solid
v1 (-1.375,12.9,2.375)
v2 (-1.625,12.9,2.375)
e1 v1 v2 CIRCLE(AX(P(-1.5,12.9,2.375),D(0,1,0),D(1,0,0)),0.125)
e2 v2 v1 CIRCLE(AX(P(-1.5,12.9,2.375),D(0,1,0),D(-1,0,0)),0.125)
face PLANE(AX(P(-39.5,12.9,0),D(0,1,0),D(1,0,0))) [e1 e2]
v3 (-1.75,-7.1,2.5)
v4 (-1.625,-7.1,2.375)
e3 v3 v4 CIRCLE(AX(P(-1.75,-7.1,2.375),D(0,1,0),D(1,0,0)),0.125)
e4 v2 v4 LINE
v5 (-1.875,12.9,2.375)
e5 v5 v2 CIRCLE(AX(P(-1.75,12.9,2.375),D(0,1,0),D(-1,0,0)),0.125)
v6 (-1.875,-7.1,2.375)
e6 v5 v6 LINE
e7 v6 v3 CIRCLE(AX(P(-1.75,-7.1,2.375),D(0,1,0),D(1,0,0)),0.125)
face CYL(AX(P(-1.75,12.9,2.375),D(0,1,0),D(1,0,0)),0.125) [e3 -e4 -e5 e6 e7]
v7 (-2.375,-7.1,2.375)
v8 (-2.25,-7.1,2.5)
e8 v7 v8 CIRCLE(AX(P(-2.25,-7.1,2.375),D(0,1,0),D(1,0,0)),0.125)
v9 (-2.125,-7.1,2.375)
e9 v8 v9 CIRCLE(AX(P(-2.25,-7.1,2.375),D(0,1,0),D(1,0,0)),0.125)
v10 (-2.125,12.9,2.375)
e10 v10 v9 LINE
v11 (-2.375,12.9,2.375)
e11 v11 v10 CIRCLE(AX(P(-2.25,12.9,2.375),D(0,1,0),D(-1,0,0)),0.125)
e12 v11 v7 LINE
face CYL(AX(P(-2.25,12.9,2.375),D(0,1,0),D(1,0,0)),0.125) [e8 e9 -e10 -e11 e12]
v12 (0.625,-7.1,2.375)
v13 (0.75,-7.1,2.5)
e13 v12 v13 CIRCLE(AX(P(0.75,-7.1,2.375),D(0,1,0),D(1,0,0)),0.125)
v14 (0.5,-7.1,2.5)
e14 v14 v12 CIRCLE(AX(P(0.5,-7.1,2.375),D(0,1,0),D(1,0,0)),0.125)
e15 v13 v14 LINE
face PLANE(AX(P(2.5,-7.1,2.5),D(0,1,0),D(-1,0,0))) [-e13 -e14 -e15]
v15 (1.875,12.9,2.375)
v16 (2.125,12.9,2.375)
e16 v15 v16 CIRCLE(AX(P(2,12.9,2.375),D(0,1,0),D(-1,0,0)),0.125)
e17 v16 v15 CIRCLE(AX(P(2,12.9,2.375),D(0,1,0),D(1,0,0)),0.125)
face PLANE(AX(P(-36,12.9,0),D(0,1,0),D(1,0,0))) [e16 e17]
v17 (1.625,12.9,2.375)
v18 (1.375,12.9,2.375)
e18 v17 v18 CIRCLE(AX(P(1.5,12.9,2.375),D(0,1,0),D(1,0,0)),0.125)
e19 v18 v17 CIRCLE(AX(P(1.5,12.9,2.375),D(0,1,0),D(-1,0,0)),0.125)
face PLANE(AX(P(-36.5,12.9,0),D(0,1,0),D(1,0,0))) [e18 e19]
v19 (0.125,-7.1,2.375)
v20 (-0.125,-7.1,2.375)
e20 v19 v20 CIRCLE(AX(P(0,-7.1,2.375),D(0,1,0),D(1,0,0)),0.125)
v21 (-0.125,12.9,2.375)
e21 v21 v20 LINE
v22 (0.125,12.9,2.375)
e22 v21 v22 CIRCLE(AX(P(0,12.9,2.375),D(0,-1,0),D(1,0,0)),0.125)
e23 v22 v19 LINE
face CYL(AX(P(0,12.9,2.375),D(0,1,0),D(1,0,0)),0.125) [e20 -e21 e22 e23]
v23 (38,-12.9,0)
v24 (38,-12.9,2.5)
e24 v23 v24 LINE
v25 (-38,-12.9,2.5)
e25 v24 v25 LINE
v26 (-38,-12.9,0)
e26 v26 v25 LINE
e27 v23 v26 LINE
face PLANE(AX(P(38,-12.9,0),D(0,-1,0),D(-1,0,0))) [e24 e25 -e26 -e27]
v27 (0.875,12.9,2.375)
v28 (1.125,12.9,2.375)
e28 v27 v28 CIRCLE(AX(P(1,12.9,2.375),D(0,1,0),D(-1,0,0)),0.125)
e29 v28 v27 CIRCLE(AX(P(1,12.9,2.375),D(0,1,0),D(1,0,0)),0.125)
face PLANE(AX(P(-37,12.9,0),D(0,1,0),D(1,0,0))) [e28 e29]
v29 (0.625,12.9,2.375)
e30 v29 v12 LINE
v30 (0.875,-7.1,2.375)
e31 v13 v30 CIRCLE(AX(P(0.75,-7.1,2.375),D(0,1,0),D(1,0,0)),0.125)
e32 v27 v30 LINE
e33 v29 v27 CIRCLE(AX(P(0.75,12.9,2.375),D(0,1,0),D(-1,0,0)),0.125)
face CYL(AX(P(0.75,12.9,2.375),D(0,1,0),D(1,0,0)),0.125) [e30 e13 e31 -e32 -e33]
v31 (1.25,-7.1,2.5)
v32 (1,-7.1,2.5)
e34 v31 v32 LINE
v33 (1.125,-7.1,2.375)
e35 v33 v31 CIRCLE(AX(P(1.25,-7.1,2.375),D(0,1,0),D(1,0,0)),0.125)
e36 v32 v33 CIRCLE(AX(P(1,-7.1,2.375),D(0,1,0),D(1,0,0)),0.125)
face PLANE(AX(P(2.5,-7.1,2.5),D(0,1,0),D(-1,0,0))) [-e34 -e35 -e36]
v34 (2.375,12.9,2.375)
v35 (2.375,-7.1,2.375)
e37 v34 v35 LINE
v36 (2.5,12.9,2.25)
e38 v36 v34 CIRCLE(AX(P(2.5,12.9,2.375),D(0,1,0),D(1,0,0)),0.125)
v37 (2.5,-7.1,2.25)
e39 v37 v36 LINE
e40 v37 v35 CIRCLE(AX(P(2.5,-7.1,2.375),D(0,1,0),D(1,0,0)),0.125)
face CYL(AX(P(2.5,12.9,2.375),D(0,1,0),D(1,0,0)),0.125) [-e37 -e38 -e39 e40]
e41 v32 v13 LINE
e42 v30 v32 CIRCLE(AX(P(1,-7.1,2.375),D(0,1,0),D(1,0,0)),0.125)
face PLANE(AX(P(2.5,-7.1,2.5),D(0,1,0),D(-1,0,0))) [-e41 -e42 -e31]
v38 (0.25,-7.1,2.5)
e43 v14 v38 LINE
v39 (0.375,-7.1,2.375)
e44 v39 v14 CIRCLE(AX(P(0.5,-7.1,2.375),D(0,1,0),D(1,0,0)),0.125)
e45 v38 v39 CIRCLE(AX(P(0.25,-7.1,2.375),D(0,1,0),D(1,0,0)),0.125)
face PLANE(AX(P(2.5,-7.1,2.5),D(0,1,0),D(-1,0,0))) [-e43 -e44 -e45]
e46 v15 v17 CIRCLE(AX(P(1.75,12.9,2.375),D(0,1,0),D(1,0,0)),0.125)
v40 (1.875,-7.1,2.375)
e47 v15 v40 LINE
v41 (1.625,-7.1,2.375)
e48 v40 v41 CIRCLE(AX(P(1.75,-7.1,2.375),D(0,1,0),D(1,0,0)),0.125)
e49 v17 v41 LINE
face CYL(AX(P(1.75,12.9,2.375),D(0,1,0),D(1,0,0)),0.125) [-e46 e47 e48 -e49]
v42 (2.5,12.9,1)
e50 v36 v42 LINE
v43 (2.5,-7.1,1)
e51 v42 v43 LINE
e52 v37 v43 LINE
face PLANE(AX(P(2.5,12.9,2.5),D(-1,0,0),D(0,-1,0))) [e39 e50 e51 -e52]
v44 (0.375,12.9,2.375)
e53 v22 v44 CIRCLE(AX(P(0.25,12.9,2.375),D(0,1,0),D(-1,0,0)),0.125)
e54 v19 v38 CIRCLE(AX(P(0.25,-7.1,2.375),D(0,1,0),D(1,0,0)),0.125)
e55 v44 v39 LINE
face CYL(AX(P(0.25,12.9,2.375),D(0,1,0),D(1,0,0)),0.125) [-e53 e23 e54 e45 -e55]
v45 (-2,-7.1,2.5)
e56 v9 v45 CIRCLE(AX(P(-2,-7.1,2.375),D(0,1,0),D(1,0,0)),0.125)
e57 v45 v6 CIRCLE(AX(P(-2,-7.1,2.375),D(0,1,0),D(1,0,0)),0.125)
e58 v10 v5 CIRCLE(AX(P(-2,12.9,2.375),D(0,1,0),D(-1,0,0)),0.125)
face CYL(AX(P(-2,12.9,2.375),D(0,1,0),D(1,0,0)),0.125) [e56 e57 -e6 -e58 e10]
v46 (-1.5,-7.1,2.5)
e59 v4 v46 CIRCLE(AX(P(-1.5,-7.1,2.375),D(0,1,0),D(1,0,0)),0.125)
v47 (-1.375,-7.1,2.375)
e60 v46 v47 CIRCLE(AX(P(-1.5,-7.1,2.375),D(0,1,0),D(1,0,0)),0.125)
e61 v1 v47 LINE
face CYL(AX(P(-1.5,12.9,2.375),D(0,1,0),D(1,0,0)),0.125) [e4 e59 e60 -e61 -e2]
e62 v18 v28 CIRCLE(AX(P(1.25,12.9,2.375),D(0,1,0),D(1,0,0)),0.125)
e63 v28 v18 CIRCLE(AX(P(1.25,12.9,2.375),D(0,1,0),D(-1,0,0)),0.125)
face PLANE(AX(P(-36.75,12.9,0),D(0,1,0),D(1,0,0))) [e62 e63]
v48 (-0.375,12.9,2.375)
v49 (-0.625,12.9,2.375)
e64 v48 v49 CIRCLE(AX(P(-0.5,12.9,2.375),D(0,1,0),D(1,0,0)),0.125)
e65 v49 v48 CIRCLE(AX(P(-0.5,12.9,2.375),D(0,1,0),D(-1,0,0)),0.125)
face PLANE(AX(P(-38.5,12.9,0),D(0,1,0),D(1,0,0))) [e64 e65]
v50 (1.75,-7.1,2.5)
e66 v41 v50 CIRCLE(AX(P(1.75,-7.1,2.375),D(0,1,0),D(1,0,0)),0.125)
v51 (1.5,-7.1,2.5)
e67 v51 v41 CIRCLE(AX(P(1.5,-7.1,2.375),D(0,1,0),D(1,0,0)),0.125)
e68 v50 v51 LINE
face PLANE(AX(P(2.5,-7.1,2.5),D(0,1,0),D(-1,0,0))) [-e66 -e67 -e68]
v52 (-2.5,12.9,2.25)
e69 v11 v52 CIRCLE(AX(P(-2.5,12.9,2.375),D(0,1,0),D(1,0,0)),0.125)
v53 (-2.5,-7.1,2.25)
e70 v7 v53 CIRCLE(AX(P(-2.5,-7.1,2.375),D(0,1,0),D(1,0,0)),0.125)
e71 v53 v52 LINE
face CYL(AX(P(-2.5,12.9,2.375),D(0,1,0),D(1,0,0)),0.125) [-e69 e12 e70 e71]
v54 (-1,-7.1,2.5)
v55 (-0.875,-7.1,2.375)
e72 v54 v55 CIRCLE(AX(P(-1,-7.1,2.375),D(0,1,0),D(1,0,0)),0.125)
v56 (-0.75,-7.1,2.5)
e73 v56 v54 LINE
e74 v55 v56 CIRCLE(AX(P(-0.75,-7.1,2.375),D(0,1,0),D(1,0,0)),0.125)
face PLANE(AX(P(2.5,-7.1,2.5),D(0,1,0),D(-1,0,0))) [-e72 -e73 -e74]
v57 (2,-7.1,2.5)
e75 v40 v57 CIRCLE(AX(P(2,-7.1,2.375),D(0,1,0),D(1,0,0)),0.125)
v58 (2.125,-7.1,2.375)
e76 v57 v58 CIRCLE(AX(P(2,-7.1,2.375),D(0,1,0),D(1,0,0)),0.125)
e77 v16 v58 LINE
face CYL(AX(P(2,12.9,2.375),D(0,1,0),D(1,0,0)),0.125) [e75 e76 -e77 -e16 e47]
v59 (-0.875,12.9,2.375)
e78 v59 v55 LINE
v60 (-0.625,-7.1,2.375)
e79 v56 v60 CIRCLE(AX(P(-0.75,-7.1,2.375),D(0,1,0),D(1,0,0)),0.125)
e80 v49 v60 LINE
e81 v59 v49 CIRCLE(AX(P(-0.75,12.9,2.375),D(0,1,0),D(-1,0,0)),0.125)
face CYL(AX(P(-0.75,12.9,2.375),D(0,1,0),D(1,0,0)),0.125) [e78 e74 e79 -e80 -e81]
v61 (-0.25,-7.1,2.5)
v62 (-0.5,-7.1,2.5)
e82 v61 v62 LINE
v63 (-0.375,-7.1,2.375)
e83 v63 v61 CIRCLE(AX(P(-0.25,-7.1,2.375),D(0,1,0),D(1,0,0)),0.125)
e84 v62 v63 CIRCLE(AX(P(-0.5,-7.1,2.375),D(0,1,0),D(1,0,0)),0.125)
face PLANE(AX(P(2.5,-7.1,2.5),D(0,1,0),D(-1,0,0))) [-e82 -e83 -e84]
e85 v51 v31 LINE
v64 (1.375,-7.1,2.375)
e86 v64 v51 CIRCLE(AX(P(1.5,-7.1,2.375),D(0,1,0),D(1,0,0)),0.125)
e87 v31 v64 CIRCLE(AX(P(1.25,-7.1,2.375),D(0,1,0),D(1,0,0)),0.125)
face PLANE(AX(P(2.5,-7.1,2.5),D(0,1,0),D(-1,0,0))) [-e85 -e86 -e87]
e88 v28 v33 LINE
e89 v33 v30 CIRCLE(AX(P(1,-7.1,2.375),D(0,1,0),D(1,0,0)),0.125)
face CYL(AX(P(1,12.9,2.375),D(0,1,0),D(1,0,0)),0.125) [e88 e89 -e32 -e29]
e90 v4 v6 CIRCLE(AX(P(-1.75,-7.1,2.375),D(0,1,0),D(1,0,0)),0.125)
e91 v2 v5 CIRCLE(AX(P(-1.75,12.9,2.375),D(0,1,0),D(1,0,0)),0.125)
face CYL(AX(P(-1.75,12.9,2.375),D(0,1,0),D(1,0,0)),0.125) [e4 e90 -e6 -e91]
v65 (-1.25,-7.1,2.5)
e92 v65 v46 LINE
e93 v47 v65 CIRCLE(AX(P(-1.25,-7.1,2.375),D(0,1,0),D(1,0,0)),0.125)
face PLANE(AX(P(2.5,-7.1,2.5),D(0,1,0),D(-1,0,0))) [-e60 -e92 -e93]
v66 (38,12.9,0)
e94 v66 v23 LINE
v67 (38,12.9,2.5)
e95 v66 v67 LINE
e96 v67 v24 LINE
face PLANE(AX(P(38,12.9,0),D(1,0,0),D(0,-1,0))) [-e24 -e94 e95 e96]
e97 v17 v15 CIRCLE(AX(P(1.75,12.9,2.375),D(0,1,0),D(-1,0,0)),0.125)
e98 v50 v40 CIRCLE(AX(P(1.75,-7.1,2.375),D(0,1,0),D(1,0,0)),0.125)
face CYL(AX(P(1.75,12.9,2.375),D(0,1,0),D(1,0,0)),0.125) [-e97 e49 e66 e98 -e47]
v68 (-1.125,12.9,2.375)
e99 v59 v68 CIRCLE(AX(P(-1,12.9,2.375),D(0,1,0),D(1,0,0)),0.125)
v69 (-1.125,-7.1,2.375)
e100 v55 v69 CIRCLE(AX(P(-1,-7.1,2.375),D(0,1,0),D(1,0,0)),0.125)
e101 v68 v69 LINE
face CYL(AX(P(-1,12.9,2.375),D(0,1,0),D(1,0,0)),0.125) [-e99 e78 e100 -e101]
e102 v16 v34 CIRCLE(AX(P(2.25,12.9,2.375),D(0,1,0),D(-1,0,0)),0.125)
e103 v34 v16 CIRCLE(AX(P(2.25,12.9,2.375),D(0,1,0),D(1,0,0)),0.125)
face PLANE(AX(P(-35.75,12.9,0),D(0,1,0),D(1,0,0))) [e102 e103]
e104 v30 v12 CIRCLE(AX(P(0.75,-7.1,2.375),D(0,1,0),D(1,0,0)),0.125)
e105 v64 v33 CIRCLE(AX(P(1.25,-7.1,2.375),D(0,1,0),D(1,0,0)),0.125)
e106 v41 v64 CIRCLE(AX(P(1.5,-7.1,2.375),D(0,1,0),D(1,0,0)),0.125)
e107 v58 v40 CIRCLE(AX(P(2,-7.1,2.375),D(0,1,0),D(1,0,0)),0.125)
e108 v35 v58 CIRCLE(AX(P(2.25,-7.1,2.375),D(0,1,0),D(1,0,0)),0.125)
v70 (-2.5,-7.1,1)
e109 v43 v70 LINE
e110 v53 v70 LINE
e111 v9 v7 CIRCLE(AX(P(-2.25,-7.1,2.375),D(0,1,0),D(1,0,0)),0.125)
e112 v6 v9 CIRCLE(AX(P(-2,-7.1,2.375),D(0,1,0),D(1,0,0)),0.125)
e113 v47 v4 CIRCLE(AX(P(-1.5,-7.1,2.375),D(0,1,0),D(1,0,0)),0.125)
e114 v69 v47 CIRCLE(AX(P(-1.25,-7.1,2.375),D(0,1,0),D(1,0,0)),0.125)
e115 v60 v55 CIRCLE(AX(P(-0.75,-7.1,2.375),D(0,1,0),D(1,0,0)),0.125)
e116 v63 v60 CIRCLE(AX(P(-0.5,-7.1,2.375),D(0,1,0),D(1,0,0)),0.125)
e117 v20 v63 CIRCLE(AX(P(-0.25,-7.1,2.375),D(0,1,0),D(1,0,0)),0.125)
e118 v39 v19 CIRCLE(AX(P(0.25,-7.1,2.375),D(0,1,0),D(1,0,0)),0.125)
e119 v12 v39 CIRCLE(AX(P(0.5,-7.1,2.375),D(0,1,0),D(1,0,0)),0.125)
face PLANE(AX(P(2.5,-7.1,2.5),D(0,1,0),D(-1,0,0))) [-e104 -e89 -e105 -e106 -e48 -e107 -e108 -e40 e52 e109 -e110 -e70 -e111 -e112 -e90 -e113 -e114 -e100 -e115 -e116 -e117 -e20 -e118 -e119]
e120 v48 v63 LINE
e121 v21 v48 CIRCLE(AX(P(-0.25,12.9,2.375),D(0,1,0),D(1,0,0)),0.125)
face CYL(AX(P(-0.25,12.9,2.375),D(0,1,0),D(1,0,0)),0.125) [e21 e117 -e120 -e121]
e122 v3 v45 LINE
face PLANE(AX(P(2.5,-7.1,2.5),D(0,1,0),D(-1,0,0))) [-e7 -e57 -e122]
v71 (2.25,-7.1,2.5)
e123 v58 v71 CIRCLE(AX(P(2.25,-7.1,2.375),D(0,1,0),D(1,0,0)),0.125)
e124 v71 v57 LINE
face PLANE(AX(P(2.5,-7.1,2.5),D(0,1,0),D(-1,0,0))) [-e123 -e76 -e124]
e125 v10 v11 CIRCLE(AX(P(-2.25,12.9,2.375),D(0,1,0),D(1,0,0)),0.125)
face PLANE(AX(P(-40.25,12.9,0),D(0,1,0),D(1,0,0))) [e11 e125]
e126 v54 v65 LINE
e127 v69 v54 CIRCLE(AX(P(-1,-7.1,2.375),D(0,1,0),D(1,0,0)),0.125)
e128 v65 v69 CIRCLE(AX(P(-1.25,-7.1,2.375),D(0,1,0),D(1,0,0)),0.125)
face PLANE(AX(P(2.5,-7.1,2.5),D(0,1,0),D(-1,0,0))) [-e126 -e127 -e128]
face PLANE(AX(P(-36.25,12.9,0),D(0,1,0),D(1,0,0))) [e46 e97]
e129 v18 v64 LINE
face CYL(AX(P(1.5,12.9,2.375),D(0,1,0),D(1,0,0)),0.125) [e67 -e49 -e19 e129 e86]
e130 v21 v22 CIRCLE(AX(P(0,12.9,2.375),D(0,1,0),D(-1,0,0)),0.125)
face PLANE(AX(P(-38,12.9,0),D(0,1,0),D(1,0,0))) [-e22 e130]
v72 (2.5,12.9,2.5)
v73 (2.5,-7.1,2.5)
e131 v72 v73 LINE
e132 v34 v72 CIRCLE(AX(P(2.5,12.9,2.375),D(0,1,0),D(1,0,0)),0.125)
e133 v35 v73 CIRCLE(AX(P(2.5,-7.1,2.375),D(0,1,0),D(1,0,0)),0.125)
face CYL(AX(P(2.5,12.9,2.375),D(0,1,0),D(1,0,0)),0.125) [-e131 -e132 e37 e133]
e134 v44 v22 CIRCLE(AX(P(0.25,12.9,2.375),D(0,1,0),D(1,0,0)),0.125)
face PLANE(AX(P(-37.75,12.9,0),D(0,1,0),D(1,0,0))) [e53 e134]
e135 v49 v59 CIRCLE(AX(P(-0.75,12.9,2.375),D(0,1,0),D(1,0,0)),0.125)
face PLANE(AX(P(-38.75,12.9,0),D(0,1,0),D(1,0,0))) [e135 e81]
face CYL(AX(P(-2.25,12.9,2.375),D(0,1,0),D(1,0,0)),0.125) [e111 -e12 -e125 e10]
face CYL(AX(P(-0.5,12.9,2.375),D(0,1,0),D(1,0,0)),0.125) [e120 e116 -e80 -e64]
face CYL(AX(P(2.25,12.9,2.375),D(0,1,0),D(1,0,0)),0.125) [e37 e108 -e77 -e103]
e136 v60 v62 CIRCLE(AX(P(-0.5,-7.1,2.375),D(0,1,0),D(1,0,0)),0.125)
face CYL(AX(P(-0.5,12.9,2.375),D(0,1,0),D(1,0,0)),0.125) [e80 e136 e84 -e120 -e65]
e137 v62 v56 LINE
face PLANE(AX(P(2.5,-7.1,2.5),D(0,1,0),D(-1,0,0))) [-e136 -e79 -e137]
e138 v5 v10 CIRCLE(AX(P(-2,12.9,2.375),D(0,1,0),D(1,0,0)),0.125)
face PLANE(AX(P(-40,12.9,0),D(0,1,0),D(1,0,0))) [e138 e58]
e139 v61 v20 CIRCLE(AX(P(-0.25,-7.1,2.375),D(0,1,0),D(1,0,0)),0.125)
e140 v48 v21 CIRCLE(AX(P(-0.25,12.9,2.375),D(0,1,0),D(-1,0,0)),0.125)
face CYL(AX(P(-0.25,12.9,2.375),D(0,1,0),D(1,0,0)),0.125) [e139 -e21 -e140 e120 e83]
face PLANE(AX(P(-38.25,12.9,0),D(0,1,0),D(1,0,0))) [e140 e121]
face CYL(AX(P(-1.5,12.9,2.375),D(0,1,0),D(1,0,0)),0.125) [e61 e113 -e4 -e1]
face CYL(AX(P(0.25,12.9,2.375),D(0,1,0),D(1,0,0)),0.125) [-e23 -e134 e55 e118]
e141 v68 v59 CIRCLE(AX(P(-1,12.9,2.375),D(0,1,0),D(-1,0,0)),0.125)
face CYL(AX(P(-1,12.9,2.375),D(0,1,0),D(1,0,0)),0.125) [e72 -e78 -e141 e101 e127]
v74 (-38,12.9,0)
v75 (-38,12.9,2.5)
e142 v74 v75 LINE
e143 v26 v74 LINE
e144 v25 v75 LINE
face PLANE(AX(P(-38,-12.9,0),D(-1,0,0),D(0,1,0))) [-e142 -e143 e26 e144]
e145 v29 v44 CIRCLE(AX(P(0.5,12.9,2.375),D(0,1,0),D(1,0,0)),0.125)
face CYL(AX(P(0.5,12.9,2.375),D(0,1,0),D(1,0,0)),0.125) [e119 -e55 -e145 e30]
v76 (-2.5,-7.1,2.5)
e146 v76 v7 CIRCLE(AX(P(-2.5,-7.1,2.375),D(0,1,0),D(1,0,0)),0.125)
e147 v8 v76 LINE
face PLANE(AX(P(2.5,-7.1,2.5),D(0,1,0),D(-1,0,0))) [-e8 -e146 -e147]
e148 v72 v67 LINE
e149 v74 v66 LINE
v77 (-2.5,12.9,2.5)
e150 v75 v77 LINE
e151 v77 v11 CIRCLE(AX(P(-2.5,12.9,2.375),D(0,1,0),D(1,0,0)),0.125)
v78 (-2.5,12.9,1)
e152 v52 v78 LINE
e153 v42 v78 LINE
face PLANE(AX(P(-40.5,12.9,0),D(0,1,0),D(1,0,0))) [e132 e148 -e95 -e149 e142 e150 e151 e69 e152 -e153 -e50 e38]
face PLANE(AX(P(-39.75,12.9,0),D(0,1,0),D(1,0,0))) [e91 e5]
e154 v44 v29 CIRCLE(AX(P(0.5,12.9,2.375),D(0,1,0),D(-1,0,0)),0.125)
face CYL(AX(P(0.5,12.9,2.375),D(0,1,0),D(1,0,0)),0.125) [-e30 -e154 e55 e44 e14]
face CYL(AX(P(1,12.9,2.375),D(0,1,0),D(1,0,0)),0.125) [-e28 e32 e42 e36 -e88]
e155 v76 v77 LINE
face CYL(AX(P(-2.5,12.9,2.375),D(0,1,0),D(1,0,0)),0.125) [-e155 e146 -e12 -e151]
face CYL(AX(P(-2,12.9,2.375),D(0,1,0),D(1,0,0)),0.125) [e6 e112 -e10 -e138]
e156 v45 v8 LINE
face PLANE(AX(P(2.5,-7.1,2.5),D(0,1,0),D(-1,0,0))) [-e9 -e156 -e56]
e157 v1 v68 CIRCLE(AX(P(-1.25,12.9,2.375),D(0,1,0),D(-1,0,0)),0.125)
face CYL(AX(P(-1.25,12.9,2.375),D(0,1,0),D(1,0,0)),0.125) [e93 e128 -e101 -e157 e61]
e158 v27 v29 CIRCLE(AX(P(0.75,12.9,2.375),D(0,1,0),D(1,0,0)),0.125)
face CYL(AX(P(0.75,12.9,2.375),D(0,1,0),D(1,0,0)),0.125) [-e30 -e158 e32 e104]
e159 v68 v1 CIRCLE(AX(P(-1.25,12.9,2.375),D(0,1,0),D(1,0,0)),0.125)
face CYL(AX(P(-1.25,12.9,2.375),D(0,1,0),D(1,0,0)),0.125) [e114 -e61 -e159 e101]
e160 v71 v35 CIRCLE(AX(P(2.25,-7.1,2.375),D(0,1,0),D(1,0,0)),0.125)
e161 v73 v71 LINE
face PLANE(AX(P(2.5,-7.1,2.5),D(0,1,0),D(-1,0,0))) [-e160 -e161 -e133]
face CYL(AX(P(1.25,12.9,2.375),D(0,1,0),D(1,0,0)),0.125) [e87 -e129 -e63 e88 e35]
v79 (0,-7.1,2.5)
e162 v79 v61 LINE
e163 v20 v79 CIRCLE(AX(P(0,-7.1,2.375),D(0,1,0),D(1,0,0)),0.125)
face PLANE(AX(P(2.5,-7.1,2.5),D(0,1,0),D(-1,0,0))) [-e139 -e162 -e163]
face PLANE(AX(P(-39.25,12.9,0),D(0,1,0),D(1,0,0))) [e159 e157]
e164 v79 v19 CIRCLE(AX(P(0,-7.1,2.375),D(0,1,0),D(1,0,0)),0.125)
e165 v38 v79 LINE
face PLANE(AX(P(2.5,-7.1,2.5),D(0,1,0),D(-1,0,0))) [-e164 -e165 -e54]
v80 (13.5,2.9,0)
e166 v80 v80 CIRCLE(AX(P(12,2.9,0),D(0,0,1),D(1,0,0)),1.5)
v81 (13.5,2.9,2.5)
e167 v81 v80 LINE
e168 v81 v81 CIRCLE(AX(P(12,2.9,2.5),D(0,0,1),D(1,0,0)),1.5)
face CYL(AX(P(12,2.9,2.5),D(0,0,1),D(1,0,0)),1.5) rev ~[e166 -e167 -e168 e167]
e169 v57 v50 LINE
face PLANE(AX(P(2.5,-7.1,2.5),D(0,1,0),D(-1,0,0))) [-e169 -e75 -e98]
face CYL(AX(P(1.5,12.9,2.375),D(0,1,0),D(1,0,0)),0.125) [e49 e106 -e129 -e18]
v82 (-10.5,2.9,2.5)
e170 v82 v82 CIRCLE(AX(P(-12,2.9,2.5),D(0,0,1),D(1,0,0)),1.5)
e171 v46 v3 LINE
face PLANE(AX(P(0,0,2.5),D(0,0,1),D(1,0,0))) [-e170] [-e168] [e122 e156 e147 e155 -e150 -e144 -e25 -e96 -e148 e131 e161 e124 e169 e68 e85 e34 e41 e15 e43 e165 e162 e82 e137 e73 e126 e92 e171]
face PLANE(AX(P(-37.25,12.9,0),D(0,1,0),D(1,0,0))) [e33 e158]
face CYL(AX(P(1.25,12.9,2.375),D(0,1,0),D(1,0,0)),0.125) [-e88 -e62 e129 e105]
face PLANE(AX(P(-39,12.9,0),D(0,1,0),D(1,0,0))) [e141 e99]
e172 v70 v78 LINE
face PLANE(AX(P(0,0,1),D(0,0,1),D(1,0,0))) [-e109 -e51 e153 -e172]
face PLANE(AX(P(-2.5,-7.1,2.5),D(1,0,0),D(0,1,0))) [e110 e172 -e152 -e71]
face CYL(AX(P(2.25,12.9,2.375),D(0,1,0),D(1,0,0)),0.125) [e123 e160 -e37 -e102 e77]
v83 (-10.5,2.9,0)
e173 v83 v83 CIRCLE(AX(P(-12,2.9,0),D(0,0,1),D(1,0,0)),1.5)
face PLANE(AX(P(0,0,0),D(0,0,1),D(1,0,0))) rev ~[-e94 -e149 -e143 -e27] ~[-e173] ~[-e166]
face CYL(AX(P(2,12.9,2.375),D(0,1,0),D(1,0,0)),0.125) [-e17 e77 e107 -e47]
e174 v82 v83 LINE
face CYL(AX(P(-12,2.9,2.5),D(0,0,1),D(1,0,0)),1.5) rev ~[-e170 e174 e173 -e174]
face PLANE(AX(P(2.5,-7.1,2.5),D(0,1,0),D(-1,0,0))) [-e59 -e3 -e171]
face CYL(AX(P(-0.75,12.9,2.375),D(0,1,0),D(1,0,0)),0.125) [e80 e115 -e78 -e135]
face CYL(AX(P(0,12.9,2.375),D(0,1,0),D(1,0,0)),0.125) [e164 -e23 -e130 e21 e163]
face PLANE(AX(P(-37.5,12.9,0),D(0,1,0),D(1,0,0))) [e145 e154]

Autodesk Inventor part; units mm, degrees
ref_plane "YZ Plane" through (0, 0, 0) normal (1, 0, 0) x (0, 1, 0)
ref_plane "XZ Plane" through (0, 0, 0) normal (0, 1, 0) x (-1, 0, 0)
ref_plane "XY Plane" through (0, 0, 0) normal (0, 0, 1) x (1, 0, 0)
sketch "Skizze1" plane through (0, 0, 0) normal (0, 0, 1) x (1, 0, 0)
  line L0 (38, -12.9) -> (-38, -12.9)
  line L1 (-38, -12.9) -> (-38, 12.9)
  line L2 (-38, 12.9) -> (38, 12.9)
  line L3 (38, 12.9) -> (38, -12.9)
  line L4 (38, -12.9) -> (-38, 12.9) construction
  line L5 (-38, -12.9) -> (38, 12.9) construction
  point P0 (0, 0)
  dimension "d0" = 76
  dimension "d1" = 25.8
extrude "Extrusion1" add sketch "Skizze1" along normal blind 2.5
sketch "Skizze2" plane through (0, 0, 2.5) normal (0, 0, 1) x (1, 0, 0)
  line L0 (38, 12.9) -> (-38, 12.9) projected
  line L1 (-38, 12.9) -> (-38, -12.9) projected
  line L2 (-38, -12.9) -> (38, -12.9) projected
  line L3 (38, -12.9) -> (38, 12.9) projected
  line L4 (2.5, -7.1) -> (-2.5, -7.1)
  line L5 (-2.5, -7.1) -> (-2.5, 12.9)
  line L6 (-2.5, 12.9) -> (2.5, 12.9)
  line L7 (2.5, 12.9) -> (2.5, -7.1)
  line L8 (2.5, -7.1) -> (-2.5, 12.9) construction
  line L9 (-2.5, -7.1) -> (2.5, 12.9) construction
  point P0 (0, 0)
  point P1 (0, 2.9)
  point P2 (0, 12.9)
  dimension "d4" = 5
  dimension "d5" = 20
extrude "Extrusion2" cut sketch "Skizze2" against normal blind 1.5 contours L7 L4 L5 L0
sketch "Skizze3" plane through (-38, 12.9, 0) normal (0, 1, 0) x (1, 0, 0)
  line L0 (40.5, -2.5) -> (35.5, -2.5) projected
  line L1 (40.5, -2.5) -> (40.5, -1) projected
  line L2 (40.5, -1) -> (35.5, -1) projected
  line L3 (35.5, -2.5) -> (35.5, -1) projected
  circle A0 centre (38, -2.375) radius 0.125
  point P0 (38, 0)
  dimension "d8" = 0.25
extrude "Extrusion3" add sketch "Skizze3" against normal up to surface (20 mm away) contours A0
pattern_linear "Rechteckige Anordnung1" count 11 spacing 0.25 along (-1, 0, 0) count 11 spacing 0.25 along (1, 0, 0) of "Extrusion3"
ref_plane "Arbeitsebene1" through (0, -12.9, 0) normal (1, 0, 0) x (0, 0, -1)
sketch "Skizze4" plane through (0, 0, 2.5) normal (0, 0, 1) x (1, 0, 0)
  line L0 (2.5, 12.9) -> (2.5, -7.1) projected
  line L1 (2.5, -7.1) -> (2.25, -7.1) projected
  line L2 (2.25, -7.1) -> (2, -7.1) projected
  line L3 (2, -7.1) -> (1.75, -7.1) projected
  line L4 (1.75, -7.1) -> (1.5, -7.1) projected
  line L5 (1.5, -7.1) -> (1.25, -7.1) projected
  line L6 (1.25, -7.1) -> (1, -7.1) projected
  line L7 (1, -7.1) -> (0.75, -7.1) projected
  line L8 (0.75, -7.1) -> (0.5, -7.1) projected
  line L9 (0.5, -7.1) -> (0.25, -7.1) projected
  line L10 (0.25, -7.1) -> (0, -7.1) projected
  line L11 (0, -7.1) -> (-0.25, -7.1) projected
  line L12 (-0.25, -7.1) -> (-0.5, -7.1) projected
  line L13 (-0.5, -7.1) -> (-0.75, -7.1) projected
  line L14 (-0.75, -7.1) -> (-1, -7.1) projected
  line L15 (-1, -7.1) -> (-1.25, -7.1) projected
  line L16 (-1.25, -7.1) -> (-1.5, -7.1) projected
  line L17 (-1.5, -7.1) -> (-1.75, -7.1) projected
  line L18 (-1.75, -7.1) -> (-2, -7.1) projected
  line L19 (-2, -7.1) -> (-2.25, -7.1) projected
  line L20 (-2.25, -7.1) -> (-2.5, -7.1) projected
  line L21 (-2.5, -7.1) -> (-2.5, 12.9) projected
  line L22 (-2.5, 12.9) -> (-38, 12.9) projected
  line L23 (-38, 12.9) -> (-38, -12.9) projected
  line L24 (-38, -12.9) -> (38, -12.9) projected
  line L25 (38, -12.9) -> (38, 12.9) projected
  line L26 (38, 12.9) -> (2.5, 12.9) projected
  circle A0 centre (-12, 2.9) radius 1.5
  line L27 (0, 18.06) -> (0, -18.06) projected
  circle A1 centre (12, 2.9) radius 1.5
  point P0 (0, 0)
  dimension "d17" = 3
  dimension "d18" = 12
  dimension "d19" = 10
extrude "Extrusion4" cut sketch "Skizze4" against normal blind 2.5 contours A0 | A1
properties part number "00_chipnano_waveguide_slidsize_modified"
